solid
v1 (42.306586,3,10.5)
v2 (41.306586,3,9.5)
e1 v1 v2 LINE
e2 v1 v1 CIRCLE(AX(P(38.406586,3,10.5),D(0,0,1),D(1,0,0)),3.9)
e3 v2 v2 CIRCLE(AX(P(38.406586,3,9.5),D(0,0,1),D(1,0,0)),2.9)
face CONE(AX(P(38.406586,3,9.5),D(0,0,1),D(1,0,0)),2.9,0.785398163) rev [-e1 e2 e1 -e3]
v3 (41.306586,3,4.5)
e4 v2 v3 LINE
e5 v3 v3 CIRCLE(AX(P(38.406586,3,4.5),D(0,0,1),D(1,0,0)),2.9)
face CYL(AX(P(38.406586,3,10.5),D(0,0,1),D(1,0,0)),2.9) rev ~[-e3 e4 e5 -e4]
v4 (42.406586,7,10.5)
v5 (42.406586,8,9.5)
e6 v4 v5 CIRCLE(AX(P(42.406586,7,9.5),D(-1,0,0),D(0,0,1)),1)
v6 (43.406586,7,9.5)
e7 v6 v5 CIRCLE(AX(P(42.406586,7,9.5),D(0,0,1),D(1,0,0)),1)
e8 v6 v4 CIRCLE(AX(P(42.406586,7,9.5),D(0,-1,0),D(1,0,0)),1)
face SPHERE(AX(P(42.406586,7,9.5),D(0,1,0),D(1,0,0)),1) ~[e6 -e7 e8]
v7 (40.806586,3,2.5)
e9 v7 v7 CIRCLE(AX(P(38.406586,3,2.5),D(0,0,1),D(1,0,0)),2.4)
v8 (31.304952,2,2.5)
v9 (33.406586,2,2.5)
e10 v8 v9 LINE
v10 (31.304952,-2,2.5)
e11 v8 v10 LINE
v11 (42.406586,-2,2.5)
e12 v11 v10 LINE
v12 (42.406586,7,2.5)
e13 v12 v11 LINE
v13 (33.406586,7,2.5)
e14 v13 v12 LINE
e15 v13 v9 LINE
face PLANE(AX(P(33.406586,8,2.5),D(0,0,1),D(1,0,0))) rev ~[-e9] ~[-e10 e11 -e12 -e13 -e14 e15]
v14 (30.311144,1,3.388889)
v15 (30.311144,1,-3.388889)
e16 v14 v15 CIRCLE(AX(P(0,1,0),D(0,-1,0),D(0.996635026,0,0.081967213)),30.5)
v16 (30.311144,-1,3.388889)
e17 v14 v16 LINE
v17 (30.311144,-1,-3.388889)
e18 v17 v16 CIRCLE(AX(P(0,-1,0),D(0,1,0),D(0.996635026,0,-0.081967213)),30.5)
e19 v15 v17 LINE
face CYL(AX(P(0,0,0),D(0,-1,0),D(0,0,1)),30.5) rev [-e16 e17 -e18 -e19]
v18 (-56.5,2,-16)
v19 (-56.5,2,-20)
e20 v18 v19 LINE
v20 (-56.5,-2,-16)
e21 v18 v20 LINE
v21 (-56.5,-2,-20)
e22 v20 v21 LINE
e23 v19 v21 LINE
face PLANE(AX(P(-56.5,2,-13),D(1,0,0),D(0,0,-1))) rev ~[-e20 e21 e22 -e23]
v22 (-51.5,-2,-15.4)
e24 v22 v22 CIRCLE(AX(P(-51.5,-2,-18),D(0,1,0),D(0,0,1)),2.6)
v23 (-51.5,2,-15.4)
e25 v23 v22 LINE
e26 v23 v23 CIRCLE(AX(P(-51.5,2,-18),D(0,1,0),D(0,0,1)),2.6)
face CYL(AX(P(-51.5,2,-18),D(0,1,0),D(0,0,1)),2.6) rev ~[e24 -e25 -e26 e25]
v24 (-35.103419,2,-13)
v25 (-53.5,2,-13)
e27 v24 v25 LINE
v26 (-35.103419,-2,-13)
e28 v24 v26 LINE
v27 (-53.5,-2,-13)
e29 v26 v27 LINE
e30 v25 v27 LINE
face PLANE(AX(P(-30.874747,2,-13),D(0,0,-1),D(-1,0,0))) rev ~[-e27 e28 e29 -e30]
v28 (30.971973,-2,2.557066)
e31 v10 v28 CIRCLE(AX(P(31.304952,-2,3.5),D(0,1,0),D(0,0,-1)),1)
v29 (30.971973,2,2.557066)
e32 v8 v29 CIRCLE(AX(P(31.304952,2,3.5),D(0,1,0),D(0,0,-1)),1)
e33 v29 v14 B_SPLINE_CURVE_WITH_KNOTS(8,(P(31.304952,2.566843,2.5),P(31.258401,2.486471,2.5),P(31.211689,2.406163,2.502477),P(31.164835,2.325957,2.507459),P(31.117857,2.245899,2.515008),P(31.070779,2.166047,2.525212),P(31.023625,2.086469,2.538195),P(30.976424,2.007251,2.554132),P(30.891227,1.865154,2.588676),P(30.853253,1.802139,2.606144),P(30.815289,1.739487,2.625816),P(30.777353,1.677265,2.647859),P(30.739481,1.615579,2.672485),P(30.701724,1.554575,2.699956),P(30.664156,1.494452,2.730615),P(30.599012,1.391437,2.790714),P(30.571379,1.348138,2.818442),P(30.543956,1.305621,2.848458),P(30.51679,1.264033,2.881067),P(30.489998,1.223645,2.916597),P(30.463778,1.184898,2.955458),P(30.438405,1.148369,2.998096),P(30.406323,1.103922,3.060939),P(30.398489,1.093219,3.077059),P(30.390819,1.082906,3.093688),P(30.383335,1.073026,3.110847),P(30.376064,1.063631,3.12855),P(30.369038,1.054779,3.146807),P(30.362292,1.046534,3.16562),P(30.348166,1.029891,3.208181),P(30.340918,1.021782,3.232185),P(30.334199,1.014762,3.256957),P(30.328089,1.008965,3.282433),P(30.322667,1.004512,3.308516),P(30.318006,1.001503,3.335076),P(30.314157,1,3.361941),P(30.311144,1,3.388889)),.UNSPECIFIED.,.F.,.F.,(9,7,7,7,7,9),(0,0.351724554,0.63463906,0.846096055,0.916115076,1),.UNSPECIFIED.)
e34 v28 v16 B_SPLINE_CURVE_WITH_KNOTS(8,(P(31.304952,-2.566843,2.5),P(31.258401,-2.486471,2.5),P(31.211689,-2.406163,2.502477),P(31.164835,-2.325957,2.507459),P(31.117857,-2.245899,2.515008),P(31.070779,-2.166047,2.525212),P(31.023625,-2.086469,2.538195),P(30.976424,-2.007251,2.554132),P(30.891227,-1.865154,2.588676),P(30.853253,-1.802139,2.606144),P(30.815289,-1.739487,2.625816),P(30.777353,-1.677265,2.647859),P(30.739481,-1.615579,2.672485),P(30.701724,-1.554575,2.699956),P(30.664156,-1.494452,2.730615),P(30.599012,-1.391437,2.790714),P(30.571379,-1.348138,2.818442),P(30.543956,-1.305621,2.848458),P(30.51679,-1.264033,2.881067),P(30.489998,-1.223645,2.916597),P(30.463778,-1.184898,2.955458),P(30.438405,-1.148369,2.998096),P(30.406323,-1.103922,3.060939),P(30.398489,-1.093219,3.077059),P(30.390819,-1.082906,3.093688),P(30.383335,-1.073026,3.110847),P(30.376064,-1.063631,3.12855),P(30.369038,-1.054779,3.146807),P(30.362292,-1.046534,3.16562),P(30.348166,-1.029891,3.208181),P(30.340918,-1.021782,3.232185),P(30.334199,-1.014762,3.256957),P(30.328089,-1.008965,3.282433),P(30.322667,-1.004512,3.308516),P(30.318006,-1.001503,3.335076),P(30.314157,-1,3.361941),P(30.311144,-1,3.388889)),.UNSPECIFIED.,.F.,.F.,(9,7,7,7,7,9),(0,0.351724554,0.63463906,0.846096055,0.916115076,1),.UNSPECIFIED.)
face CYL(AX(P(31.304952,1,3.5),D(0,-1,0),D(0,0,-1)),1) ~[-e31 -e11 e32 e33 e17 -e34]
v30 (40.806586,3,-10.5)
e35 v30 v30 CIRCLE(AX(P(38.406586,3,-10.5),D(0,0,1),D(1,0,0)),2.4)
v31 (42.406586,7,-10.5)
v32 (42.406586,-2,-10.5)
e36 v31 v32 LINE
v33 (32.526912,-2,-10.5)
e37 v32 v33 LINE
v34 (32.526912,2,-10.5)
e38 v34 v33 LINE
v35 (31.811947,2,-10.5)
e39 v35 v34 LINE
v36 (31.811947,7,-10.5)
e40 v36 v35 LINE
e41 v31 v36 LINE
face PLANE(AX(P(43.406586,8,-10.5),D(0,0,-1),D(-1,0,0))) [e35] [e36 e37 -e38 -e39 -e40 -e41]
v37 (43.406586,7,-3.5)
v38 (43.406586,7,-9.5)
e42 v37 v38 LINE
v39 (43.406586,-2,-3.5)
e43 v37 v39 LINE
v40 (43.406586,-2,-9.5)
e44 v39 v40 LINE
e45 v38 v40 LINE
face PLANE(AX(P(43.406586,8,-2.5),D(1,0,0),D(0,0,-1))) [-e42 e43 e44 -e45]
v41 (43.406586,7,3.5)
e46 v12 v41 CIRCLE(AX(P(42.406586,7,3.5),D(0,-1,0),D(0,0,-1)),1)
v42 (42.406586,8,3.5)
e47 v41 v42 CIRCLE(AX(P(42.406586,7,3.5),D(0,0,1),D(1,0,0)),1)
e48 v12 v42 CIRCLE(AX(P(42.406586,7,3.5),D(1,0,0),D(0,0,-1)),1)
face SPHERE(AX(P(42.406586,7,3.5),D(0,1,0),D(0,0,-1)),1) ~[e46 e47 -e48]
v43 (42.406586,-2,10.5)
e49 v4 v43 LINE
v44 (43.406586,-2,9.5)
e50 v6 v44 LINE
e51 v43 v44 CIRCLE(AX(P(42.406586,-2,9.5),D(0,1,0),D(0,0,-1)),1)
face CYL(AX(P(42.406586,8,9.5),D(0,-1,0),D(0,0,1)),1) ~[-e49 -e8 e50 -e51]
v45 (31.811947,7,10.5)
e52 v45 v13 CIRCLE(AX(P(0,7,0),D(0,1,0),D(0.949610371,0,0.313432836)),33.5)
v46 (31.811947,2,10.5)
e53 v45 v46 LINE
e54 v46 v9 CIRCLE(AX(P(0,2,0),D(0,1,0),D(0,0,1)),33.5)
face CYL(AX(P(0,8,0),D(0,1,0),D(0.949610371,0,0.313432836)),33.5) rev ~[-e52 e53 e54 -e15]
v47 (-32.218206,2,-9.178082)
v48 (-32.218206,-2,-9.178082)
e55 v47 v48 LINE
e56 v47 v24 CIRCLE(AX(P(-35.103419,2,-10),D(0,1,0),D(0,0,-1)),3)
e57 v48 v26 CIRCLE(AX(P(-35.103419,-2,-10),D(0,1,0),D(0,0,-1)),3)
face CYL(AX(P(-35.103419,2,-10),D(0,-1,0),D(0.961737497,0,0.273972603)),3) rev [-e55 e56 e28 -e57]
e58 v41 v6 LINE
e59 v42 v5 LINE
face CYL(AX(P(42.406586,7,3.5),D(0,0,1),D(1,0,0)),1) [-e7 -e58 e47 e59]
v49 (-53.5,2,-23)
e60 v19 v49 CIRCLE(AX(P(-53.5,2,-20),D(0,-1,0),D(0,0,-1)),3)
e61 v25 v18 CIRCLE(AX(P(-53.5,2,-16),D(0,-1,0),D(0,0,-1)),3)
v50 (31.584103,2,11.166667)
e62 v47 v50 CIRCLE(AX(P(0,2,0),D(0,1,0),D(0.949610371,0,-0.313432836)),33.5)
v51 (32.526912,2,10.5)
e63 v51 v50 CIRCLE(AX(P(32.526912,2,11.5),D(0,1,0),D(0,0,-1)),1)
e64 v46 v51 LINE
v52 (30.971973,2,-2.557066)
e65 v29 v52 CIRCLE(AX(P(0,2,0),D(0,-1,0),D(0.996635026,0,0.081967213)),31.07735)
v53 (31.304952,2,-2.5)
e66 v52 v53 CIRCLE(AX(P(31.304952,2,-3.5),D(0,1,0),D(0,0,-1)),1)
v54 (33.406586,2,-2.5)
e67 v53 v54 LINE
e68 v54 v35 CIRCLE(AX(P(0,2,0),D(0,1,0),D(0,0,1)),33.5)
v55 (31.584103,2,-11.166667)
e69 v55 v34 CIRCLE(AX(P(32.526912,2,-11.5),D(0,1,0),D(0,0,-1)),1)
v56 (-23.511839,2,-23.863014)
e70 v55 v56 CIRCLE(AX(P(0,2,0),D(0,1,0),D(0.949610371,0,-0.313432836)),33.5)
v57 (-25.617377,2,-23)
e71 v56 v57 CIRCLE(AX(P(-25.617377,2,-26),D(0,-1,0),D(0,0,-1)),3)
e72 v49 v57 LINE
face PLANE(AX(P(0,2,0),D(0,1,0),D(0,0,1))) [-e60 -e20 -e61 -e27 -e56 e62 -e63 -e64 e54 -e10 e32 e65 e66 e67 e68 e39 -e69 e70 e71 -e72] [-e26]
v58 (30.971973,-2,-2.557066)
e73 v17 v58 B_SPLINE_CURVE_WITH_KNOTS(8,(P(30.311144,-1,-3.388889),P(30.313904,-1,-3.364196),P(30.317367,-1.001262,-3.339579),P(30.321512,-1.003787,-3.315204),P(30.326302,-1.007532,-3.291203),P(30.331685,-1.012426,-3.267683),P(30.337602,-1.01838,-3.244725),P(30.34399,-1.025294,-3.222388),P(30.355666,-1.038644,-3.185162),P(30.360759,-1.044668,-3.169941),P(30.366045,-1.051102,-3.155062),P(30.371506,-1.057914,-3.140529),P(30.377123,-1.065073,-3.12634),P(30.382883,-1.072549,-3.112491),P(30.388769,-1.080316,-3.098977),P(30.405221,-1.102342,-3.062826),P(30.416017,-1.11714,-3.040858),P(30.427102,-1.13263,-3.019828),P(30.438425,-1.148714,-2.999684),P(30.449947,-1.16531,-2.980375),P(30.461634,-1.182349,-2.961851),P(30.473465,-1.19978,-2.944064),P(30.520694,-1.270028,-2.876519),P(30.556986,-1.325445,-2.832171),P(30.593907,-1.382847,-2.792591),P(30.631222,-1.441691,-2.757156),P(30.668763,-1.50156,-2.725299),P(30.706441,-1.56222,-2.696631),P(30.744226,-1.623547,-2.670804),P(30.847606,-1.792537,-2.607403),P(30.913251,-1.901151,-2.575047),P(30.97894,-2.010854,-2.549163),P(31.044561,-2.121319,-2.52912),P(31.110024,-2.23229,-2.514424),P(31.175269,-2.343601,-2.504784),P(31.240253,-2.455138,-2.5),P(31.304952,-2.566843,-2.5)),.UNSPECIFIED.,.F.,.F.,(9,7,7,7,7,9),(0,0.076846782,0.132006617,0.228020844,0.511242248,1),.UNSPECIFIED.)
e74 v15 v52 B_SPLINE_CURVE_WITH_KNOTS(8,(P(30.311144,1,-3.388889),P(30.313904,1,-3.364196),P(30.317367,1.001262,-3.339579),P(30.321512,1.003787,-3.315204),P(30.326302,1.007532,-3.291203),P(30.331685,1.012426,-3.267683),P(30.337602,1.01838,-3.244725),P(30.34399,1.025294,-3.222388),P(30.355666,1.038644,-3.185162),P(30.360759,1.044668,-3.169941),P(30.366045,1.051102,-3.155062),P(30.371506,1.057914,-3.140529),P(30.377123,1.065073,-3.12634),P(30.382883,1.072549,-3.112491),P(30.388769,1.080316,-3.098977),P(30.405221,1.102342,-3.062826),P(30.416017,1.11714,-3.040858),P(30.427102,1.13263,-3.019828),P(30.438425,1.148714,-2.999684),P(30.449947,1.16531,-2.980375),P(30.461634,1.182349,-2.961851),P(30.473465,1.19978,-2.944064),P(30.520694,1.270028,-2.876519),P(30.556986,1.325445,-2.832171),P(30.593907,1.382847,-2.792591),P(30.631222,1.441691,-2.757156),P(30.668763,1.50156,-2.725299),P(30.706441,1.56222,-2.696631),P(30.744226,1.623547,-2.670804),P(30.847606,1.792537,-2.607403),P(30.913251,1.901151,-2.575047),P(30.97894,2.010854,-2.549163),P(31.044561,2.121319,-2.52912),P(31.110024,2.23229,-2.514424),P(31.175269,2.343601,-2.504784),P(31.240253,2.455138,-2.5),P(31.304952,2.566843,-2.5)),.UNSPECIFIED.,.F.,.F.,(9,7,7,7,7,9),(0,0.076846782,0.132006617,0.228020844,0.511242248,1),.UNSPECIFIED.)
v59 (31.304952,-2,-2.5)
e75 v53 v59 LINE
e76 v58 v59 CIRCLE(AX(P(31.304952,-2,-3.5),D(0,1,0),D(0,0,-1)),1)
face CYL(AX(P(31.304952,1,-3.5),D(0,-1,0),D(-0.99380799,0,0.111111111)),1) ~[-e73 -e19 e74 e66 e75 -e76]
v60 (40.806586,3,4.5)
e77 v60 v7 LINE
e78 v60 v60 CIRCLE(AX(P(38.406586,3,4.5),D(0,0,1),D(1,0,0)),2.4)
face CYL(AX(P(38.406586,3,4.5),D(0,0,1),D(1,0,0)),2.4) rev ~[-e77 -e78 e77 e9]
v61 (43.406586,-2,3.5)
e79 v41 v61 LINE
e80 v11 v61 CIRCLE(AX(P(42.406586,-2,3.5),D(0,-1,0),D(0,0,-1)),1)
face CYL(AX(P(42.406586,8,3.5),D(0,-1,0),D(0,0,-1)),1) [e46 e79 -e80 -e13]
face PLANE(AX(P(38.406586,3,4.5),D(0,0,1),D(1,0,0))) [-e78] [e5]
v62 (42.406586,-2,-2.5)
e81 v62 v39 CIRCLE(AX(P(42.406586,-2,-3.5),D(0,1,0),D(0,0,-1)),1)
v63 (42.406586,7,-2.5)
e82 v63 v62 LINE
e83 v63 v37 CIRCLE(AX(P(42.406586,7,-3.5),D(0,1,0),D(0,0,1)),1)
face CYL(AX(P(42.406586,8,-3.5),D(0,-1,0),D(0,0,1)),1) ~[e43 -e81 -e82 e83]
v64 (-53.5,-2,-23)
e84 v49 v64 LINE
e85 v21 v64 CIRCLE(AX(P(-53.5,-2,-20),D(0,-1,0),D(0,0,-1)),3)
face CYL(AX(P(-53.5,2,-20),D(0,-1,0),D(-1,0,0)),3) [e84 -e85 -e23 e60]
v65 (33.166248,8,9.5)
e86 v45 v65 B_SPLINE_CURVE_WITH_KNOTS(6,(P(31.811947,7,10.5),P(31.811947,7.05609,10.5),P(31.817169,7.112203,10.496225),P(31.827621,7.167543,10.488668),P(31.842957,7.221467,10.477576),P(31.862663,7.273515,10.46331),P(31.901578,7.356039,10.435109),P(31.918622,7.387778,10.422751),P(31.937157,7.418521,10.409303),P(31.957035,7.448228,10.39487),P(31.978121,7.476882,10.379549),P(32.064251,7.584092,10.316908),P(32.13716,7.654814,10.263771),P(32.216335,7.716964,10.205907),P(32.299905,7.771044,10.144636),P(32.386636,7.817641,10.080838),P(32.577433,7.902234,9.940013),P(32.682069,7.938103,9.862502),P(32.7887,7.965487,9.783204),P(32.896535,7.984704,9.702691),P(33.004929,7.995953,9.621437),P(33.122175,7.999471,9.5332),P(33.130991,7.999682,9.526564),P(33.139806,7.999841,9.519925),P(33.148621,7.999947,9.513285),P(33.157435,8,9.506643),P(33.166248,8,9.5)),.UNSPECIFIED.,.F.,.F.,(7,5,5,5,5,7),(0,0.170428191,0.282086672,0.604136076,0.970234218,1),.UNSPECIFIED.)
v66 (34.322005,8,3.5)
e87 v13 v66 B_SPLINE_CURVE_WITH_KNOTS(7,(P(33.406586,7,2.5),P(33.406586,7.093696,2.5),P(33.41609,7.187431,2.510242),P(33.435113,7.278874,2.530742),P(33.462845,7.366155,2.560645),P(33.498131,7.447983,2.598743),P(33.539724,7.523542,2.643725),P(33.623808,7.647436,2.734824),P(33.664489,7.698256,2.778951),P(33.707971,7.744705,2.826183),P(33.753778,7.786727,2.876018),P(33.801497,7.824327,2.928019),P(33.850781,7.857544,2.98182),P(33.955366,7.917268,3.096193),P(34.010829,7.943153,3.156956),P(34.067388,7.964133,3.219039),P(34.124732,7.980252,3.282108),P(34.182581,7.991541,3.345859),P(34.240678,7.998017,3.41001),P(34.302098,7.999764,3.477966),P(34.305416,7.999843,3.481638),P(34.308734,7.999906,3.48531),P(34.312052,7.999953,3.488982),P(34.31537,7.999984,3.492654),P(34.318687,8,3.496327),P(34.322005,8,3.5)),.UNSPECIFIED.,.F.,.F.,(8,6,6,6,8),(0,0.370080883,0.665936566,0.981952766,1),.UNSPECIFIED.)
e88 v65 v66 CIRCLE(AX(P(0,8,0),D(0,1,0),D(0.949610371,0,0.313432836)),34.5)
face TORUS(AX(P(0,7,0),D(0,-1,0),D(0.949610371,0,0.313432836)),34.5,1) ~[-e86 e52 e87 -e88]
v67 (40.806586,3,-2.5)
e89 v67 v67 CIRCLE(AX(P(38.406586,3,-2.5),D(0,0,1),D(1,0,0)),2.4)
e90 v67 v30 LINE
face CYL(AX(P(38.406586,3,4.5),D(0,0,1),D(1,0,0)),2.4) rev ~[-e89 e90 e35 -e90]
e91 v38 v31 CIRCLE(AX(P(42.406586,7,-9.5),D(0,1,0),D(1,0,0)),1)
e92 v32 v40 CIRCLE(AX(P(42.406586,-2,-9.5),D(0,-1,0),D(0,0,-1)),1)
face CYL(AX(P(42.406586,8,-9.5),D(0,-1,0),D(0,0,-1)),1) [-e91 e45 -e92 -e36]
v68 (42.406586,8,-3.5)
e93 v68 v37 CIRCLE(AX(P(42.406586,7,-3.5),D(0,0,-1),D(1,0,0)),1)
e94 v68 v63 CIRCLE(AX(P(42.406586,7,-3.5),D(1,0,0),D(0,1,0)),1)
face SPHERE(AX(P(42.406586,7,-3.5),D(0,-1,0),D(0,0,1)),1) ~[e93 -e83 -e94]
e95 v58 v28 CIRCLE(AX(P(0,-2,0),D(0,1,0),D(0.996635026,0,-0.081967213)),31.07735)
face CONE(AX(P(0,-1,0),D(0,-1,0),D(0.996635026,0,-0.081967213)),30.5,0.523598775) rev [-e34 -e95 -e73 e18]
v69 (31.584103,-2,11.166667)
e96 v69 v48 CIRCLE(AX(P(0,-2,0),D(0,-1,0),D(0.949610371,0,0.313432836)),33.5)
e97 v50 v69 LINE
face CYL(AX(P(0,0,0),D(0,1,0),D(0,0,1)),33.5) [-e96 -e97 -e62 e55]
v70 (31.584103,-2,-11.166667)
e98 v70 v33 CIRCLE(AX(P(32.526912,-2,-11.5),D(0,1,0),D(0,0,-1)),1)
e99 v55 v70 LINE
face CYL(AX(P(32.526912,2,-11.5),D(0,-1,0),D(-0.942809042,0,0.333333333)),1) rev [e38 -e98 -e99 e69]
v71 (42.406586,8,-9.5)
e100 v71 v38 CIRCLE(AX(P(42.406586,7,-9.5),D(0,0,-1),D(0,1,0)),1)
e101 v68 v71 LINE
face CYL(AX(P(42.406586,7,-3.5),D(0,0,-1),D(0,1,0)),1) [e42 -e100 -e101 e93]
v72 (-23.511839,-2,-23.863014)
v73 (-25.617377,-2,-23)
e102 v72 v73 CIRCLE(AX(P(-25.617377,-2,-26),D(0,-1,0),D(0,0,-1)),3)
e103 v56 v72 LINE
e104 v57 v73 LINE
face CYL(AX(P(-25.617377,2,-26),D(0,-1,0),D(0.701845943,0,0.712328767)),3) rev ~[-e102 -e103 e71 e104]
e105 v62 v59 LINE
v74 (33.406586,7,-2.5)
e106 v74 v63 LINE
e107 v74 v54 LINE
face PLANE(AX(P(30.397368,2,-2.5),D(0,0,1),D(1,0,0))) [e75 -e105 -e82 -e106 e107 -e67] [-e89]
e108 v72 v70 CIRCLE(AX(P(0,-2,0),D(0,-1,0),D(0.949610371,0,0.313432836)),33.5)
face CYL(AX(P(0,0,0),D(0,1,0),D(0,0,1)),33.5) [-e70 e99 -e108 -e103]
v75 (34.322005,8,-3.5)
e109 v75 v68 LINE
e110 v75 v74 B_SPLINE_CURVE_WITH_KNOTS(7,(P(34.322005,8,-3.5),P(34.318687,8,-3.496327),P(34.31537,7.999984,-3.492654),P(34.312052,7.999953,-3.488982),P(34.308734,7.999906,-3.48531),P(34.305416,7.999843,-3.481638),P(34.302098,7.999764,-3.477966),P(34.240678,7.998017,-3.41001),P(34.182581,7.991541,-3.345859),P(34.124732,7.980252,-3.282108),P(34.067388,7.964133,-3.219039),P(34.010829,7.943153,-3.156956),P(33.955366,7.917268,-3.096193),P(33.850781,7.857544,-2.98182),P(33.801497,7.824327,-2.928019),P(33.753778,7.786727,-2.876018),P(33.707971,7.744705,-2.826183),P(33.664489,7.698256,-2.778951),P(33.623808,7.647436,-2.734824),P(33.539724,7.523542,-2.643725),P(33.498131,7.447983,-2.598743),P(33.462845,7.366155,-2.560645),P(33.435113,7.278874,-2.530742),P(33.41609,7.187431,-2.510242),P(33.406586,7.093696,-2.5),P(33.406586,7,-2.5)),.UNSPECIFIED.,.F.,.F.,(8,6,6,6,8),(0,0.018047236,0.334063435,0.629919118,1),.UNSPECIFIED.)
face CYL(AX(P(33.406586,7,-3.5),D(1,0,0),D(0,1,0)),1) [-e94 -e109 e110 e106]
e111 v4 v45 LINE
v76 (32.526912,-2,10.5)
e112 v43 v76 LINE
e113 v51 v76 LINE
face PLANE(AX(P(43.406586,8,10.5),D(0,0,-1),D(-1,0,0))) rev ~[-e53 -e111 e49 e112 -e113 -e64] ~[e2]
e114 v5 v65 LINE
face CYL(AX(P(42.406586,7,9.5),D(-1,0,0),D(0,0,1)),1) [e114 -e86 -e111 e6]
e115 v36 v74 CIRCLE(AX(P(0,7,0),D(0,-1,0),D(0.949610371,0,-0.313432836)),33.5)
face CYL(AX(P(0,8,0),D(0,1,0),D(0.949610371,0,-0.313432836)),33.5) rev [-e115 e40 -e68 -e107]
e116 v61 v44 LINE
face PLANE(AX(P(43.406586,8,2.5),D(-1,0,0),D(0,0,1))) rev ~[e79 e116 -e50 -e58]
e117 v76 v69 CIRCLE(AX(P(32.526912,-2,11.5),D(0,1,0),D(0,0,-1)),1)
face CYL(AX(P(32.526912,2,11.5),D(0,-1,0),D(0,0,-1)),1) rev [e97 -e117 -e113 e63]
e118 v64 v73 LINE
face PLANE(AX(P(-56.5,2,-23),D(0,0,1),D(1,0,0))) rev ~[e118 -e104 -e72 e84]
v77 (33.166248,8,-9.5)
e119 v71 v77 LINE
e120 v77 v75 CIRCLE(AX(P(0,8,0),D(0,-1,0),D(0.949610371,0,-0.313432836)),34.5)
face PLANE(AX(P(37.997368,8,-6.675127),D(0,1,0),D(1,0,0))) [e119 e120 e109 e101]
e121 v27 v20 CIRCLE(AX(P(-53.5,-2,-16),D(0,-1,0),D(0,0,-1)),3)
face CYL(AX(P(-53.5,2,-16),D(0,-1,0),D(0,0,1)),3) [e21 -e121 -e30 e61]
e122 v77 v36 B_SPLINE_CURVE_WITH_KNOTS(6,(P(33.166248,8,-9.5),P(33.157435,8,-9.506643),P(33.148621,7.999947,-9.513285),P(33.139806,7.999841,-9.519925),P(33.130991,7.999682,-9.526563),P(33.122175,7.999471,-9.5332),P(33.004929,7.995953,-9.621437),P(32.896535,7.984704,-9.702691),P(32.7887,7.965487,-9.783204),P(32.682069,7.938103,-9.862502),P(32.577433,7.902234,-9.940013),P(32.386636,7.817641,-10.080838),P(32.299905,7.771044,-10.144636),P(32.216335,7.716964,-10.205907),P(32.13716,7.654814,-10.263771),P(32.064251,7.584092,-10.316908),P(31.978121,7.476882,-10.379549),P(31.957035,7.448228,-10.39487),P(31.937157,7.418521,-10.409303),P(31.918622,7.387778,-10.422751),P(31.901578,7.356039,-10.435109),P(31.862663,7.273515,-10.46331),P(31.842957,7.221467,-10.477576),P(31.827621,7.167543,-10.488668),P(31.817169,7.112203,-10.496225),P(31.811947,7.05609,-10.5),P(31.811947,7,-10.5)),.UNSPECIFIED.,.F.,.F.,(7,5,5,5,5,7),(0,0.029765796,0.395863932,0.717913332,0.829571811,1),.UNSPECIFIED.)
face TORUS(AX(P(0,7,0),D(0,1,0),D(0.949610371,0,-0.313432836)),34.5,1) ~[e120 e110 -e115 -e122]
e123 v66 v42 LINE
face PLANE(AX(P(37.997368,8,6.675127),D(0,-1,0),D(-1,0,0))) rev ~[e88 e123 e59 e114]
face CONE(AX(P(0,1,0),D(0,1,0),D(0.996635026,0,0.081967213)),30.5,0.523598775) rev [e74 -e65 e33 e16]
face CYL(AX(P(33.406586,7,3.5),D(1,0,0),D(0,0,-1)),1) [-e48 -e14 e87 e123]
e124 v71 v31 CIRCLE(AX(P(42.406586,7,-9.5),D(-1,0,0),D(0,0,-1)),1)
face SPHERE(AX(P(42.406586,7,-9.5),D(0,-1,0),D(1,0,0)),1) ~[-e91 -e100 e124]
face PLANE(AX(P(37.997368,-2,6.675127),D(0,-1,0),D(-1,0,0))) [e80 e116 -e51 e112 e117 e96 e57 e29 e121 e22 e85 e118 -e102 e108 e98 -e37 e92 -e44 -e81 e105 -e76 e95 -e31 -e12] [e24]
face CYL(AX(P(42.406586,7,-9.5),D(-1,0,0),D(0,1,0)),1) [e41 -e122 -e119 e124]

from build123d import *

# Parameters (mm, degrees)
SKETCH_1_R          = 33.5
SKETCH_1_R_2        = 30.5
EXTRUDE_1_DEPTH     = 2
SKETCH_3_W          = 10
SKETCH_3_H          = 5
CUT_EXTRUDE_1_DEPTH = 48.544715795
EXTRUDE_START       = 10
EXTRUDE_2_DEPTH     = 10
SKETCH_5_R          = 2.9
CUT_EXTRUDE_2_DEPTH = 6
SKETCH_6_R          = 2.4
CUT_EXTRUDE_3_DEPTH = 59.242009954
FILLET_9_R          = 1
FILLET_11_R         = 1
FILLET_12_R         = 1
CHAMFER_1_SIZE      = 1
SKETCH_7_R          = 2.6
EXTRUDE_3_DEPTH     = 4
FILLET_13_R         = 3
CHAMFER_2_SIZE      = 1
CHAMFER_2_SIZE2     = 0.577350269
CHAMFER_3_SIZE      = 1
CHAMFER_3_SIZE2     = 0.577350269
FILLET_14_R         = 1


with BuildPart() as part:
    # 草圖1 → 填料-伸長1 (new, symmetric)
    with BuildSketch(Plane(origin=(0, 0, 0), x_dir=(1, 0, 0), z_dir=(0, 1, 0))):
        with Locations(Location((0, 0, 0), (0, 0, 270))):
            Circle(SKETCH_1_R)
        with Locations(Location((0, 0, 0), (0, 0, 270))):
            Circle(SKETCH_1_R_2, mode=Mode.SUBTRACT)
    extrude(amount=EXTRUDE_1_DEPTH, both=True)

    # 草圖3 → 除料-伸長1 (cut, through all)
    with BuildSketch(Plane(origin=(0, 2, 0), x_dir=(1, 0, 0), z_dir=(0, 1, 0))):
        with Locations((35.397368307, 0)):
            Rectangle(SKETCH_3_W, SKETCH_3_H)
    extrude(amount=-CUT_EXTRUDE_1_DEPTH, mode=Mode.SUBTRACT)

    # 草圖4 → 填料-伸長2 (add)
    with BuildSketch(Plane(origin=(0, -2, 0), x_dir=(1, 0, 0), z_dir=(0, 1, 0)).offset(EXTRUDE_START)):
        with BuildLine():
            Line((33.406586177, -2.5), (43.406586177, -2.5))
            Line((43.406586177, -2.5), (43.406586177, -10.5))
            Line((43.406586177, -10.5), (31.811947441, -10.5))
            ThreePointArc((31.811947441, -10.5), (32.853679883, -6.548718819), (33.406586177, -2.5))
        make_face()
        with BuildLine():
            Line((43.406586177, 10.5), (31.811947441, 10.5))
            ThreePointArc((31.811947441, 10.5), (32.853679883, 6.548718819), (33.406586177, 2.5))
            Line((33.406586177, 2.5), (43.406586177, 2.5))
            Line((43.406586177, 2.5), (43.406586177, 10.5))
        make_face()
    extrude(amount=-EXTRUDE_2_DEPTH)

    # 草圖5 → 除料-伸長2 (cut)
    with BuildSketch(Plane.XY.offset(10.5)):
        with Locations((38.406586177, 3)):
            Circle(SKETCH_5_R)
    extrude(amount=-CUT_EXTRUDE_2_DEPTH, mode=Mode.SUBTRACT)

    # 草圖6 → 除料-伸長3 (cut, through all)
    with BuildSketch(Plane.XY.offset(4.5)):
        with Locations((38.406586177, 3)):
            Circle(SKETCH_6_R)
    extrude(amount=-CUT_EXTRUDE_3_DEPTH, mode=Mode.SUBTRACT)

    # 圓角9
    fillet_9_edges = [part.edges().sort_by_distance(p)[0] for p in [
        (31.811947441, 0, 10.5),
        (31.811947441, 0, -10.5),
    ]]
    fillet(fillet_9_edges, radius=FILLET_9_R)

    # 圓角11
    fillet_11_edges = [part.edges().sort_by_distance(p)[0] for p in [
        (43.406586177, 3, 10.5),
        (43.406586177, 3, 2.5),
        (43.406586177, 3, -2.5),
        (43.406586177, 3, -10.5),
    ]]
    fillet(fillet_11_edges, radius=FILLET_11_R)

    # 圓角12
    fillet_12_edges = [part.edges().sort_by_distance(p)[0] for p in [
        (43.406586177, 8, -6.5),
        (43.113692958, 8, -2.792893219),
        (43.113692958, 8, -10.207106781),
        (37.906586177, 8, 2.5),
        (43.406586177, 8, 6.5),
        (43.113692958, 8, 10.207106781),
        (43.113692958, 8, 2.792893219),
        (32.853679883, 8, 6.548718819),
        (37.109266809, 8, 10.5),
        (32.853679883, 8, -6.548718819),
        (37.906586177, 8, -2.5),
        (37.109266809, 8, -10.5),
    ]]
    fillet(fillet_12_edges, radius=FILLET_12_R)

    # 導角1
    chamfer_1_edges = [part.edges().sort_by_distance(p)[0] for p in [
        (35.506586177, 3, 10.5),
    ]]
    chamfer(chamfer_1_edges, length=CHAMFER_1_SIZE)

    # 草圖7 → 填料-伸長3 (add)
    with BuildSketch(Plane(origin=(0, 2, 0), x_dir=(1, 0, 0), z_dir=(0, 1, 0))):
        with BuildLine():
            Line((-30.874746963, 13), (-56.5, 13))
            Line((-56.5, 13), (-56.5, 23))
            Line((-56.5, 23), (-24.356723918, 23))
            ThreePointArc((-24.356723918, 23), (-28.064725972, 18.292653064), (-30.874746963, 13))
        make_face()
        with Locations(Location((-51.5, 18, 0), (0, 0, 270))):
            Circle(SKETCH_7_R, mode=Mode.SUBTRACT)
    extrude(amount=-EXTRUDE_3_DEPTH)

    # 圓角13
    fillet_13_edges = [part.edges().sort_by_distance(p)[0] for p in [
        (-30.874746963, 0, -13),
        (-24.356723918, 0, -23),
        (-56.5, 0, -23),
        (-56.5, 0, -13),
    ]]
    fillet(fillet_13_edges, radius=FILLET_13_R)

    # 導角2
    chamfer_2_edges = [part.edges().sort_by_distance(p)[0] for p in [
        (-30.5, 2, 0),
    ]]
    chamfer_2_side = [part.faces().sort_by_distance(p)[0] for p in [
        (-30.5, 0, 0),
    ]]
    chamfer(chamfer_2_edges, length=CHAMFER_2_SIZE, length2=CHAMFER_2_SIZE2, reference=chamfer_2_side[0])

    # 導角3
    chamfer_3_edges = [part.edges().sort_by_distance(p)[0] for p in [
        (-30.5, -2, 0),
    ]]
    chamfer_3_side = [part.faces().sort_by_distance(p)[0] for p in [
        (-30.5, -0.5, 0),
    ]]
    chamfer(chamfer_3_edges, length=CHAMFER_3_SIZE, length2=CHAMFER_3_SIZE2, reference=chamfer_3_side[0])

    # 圓角14
    fillet_14_edges = [part.edges().sort_by_distance(p)[0] for p in [
        (30.397368307, 0, -2.5),
        (30.397368307, 0, 2.5),
    ]]
    fillet(fillet_14_edges, radius=FILLET_14_R)


solid = part.part
